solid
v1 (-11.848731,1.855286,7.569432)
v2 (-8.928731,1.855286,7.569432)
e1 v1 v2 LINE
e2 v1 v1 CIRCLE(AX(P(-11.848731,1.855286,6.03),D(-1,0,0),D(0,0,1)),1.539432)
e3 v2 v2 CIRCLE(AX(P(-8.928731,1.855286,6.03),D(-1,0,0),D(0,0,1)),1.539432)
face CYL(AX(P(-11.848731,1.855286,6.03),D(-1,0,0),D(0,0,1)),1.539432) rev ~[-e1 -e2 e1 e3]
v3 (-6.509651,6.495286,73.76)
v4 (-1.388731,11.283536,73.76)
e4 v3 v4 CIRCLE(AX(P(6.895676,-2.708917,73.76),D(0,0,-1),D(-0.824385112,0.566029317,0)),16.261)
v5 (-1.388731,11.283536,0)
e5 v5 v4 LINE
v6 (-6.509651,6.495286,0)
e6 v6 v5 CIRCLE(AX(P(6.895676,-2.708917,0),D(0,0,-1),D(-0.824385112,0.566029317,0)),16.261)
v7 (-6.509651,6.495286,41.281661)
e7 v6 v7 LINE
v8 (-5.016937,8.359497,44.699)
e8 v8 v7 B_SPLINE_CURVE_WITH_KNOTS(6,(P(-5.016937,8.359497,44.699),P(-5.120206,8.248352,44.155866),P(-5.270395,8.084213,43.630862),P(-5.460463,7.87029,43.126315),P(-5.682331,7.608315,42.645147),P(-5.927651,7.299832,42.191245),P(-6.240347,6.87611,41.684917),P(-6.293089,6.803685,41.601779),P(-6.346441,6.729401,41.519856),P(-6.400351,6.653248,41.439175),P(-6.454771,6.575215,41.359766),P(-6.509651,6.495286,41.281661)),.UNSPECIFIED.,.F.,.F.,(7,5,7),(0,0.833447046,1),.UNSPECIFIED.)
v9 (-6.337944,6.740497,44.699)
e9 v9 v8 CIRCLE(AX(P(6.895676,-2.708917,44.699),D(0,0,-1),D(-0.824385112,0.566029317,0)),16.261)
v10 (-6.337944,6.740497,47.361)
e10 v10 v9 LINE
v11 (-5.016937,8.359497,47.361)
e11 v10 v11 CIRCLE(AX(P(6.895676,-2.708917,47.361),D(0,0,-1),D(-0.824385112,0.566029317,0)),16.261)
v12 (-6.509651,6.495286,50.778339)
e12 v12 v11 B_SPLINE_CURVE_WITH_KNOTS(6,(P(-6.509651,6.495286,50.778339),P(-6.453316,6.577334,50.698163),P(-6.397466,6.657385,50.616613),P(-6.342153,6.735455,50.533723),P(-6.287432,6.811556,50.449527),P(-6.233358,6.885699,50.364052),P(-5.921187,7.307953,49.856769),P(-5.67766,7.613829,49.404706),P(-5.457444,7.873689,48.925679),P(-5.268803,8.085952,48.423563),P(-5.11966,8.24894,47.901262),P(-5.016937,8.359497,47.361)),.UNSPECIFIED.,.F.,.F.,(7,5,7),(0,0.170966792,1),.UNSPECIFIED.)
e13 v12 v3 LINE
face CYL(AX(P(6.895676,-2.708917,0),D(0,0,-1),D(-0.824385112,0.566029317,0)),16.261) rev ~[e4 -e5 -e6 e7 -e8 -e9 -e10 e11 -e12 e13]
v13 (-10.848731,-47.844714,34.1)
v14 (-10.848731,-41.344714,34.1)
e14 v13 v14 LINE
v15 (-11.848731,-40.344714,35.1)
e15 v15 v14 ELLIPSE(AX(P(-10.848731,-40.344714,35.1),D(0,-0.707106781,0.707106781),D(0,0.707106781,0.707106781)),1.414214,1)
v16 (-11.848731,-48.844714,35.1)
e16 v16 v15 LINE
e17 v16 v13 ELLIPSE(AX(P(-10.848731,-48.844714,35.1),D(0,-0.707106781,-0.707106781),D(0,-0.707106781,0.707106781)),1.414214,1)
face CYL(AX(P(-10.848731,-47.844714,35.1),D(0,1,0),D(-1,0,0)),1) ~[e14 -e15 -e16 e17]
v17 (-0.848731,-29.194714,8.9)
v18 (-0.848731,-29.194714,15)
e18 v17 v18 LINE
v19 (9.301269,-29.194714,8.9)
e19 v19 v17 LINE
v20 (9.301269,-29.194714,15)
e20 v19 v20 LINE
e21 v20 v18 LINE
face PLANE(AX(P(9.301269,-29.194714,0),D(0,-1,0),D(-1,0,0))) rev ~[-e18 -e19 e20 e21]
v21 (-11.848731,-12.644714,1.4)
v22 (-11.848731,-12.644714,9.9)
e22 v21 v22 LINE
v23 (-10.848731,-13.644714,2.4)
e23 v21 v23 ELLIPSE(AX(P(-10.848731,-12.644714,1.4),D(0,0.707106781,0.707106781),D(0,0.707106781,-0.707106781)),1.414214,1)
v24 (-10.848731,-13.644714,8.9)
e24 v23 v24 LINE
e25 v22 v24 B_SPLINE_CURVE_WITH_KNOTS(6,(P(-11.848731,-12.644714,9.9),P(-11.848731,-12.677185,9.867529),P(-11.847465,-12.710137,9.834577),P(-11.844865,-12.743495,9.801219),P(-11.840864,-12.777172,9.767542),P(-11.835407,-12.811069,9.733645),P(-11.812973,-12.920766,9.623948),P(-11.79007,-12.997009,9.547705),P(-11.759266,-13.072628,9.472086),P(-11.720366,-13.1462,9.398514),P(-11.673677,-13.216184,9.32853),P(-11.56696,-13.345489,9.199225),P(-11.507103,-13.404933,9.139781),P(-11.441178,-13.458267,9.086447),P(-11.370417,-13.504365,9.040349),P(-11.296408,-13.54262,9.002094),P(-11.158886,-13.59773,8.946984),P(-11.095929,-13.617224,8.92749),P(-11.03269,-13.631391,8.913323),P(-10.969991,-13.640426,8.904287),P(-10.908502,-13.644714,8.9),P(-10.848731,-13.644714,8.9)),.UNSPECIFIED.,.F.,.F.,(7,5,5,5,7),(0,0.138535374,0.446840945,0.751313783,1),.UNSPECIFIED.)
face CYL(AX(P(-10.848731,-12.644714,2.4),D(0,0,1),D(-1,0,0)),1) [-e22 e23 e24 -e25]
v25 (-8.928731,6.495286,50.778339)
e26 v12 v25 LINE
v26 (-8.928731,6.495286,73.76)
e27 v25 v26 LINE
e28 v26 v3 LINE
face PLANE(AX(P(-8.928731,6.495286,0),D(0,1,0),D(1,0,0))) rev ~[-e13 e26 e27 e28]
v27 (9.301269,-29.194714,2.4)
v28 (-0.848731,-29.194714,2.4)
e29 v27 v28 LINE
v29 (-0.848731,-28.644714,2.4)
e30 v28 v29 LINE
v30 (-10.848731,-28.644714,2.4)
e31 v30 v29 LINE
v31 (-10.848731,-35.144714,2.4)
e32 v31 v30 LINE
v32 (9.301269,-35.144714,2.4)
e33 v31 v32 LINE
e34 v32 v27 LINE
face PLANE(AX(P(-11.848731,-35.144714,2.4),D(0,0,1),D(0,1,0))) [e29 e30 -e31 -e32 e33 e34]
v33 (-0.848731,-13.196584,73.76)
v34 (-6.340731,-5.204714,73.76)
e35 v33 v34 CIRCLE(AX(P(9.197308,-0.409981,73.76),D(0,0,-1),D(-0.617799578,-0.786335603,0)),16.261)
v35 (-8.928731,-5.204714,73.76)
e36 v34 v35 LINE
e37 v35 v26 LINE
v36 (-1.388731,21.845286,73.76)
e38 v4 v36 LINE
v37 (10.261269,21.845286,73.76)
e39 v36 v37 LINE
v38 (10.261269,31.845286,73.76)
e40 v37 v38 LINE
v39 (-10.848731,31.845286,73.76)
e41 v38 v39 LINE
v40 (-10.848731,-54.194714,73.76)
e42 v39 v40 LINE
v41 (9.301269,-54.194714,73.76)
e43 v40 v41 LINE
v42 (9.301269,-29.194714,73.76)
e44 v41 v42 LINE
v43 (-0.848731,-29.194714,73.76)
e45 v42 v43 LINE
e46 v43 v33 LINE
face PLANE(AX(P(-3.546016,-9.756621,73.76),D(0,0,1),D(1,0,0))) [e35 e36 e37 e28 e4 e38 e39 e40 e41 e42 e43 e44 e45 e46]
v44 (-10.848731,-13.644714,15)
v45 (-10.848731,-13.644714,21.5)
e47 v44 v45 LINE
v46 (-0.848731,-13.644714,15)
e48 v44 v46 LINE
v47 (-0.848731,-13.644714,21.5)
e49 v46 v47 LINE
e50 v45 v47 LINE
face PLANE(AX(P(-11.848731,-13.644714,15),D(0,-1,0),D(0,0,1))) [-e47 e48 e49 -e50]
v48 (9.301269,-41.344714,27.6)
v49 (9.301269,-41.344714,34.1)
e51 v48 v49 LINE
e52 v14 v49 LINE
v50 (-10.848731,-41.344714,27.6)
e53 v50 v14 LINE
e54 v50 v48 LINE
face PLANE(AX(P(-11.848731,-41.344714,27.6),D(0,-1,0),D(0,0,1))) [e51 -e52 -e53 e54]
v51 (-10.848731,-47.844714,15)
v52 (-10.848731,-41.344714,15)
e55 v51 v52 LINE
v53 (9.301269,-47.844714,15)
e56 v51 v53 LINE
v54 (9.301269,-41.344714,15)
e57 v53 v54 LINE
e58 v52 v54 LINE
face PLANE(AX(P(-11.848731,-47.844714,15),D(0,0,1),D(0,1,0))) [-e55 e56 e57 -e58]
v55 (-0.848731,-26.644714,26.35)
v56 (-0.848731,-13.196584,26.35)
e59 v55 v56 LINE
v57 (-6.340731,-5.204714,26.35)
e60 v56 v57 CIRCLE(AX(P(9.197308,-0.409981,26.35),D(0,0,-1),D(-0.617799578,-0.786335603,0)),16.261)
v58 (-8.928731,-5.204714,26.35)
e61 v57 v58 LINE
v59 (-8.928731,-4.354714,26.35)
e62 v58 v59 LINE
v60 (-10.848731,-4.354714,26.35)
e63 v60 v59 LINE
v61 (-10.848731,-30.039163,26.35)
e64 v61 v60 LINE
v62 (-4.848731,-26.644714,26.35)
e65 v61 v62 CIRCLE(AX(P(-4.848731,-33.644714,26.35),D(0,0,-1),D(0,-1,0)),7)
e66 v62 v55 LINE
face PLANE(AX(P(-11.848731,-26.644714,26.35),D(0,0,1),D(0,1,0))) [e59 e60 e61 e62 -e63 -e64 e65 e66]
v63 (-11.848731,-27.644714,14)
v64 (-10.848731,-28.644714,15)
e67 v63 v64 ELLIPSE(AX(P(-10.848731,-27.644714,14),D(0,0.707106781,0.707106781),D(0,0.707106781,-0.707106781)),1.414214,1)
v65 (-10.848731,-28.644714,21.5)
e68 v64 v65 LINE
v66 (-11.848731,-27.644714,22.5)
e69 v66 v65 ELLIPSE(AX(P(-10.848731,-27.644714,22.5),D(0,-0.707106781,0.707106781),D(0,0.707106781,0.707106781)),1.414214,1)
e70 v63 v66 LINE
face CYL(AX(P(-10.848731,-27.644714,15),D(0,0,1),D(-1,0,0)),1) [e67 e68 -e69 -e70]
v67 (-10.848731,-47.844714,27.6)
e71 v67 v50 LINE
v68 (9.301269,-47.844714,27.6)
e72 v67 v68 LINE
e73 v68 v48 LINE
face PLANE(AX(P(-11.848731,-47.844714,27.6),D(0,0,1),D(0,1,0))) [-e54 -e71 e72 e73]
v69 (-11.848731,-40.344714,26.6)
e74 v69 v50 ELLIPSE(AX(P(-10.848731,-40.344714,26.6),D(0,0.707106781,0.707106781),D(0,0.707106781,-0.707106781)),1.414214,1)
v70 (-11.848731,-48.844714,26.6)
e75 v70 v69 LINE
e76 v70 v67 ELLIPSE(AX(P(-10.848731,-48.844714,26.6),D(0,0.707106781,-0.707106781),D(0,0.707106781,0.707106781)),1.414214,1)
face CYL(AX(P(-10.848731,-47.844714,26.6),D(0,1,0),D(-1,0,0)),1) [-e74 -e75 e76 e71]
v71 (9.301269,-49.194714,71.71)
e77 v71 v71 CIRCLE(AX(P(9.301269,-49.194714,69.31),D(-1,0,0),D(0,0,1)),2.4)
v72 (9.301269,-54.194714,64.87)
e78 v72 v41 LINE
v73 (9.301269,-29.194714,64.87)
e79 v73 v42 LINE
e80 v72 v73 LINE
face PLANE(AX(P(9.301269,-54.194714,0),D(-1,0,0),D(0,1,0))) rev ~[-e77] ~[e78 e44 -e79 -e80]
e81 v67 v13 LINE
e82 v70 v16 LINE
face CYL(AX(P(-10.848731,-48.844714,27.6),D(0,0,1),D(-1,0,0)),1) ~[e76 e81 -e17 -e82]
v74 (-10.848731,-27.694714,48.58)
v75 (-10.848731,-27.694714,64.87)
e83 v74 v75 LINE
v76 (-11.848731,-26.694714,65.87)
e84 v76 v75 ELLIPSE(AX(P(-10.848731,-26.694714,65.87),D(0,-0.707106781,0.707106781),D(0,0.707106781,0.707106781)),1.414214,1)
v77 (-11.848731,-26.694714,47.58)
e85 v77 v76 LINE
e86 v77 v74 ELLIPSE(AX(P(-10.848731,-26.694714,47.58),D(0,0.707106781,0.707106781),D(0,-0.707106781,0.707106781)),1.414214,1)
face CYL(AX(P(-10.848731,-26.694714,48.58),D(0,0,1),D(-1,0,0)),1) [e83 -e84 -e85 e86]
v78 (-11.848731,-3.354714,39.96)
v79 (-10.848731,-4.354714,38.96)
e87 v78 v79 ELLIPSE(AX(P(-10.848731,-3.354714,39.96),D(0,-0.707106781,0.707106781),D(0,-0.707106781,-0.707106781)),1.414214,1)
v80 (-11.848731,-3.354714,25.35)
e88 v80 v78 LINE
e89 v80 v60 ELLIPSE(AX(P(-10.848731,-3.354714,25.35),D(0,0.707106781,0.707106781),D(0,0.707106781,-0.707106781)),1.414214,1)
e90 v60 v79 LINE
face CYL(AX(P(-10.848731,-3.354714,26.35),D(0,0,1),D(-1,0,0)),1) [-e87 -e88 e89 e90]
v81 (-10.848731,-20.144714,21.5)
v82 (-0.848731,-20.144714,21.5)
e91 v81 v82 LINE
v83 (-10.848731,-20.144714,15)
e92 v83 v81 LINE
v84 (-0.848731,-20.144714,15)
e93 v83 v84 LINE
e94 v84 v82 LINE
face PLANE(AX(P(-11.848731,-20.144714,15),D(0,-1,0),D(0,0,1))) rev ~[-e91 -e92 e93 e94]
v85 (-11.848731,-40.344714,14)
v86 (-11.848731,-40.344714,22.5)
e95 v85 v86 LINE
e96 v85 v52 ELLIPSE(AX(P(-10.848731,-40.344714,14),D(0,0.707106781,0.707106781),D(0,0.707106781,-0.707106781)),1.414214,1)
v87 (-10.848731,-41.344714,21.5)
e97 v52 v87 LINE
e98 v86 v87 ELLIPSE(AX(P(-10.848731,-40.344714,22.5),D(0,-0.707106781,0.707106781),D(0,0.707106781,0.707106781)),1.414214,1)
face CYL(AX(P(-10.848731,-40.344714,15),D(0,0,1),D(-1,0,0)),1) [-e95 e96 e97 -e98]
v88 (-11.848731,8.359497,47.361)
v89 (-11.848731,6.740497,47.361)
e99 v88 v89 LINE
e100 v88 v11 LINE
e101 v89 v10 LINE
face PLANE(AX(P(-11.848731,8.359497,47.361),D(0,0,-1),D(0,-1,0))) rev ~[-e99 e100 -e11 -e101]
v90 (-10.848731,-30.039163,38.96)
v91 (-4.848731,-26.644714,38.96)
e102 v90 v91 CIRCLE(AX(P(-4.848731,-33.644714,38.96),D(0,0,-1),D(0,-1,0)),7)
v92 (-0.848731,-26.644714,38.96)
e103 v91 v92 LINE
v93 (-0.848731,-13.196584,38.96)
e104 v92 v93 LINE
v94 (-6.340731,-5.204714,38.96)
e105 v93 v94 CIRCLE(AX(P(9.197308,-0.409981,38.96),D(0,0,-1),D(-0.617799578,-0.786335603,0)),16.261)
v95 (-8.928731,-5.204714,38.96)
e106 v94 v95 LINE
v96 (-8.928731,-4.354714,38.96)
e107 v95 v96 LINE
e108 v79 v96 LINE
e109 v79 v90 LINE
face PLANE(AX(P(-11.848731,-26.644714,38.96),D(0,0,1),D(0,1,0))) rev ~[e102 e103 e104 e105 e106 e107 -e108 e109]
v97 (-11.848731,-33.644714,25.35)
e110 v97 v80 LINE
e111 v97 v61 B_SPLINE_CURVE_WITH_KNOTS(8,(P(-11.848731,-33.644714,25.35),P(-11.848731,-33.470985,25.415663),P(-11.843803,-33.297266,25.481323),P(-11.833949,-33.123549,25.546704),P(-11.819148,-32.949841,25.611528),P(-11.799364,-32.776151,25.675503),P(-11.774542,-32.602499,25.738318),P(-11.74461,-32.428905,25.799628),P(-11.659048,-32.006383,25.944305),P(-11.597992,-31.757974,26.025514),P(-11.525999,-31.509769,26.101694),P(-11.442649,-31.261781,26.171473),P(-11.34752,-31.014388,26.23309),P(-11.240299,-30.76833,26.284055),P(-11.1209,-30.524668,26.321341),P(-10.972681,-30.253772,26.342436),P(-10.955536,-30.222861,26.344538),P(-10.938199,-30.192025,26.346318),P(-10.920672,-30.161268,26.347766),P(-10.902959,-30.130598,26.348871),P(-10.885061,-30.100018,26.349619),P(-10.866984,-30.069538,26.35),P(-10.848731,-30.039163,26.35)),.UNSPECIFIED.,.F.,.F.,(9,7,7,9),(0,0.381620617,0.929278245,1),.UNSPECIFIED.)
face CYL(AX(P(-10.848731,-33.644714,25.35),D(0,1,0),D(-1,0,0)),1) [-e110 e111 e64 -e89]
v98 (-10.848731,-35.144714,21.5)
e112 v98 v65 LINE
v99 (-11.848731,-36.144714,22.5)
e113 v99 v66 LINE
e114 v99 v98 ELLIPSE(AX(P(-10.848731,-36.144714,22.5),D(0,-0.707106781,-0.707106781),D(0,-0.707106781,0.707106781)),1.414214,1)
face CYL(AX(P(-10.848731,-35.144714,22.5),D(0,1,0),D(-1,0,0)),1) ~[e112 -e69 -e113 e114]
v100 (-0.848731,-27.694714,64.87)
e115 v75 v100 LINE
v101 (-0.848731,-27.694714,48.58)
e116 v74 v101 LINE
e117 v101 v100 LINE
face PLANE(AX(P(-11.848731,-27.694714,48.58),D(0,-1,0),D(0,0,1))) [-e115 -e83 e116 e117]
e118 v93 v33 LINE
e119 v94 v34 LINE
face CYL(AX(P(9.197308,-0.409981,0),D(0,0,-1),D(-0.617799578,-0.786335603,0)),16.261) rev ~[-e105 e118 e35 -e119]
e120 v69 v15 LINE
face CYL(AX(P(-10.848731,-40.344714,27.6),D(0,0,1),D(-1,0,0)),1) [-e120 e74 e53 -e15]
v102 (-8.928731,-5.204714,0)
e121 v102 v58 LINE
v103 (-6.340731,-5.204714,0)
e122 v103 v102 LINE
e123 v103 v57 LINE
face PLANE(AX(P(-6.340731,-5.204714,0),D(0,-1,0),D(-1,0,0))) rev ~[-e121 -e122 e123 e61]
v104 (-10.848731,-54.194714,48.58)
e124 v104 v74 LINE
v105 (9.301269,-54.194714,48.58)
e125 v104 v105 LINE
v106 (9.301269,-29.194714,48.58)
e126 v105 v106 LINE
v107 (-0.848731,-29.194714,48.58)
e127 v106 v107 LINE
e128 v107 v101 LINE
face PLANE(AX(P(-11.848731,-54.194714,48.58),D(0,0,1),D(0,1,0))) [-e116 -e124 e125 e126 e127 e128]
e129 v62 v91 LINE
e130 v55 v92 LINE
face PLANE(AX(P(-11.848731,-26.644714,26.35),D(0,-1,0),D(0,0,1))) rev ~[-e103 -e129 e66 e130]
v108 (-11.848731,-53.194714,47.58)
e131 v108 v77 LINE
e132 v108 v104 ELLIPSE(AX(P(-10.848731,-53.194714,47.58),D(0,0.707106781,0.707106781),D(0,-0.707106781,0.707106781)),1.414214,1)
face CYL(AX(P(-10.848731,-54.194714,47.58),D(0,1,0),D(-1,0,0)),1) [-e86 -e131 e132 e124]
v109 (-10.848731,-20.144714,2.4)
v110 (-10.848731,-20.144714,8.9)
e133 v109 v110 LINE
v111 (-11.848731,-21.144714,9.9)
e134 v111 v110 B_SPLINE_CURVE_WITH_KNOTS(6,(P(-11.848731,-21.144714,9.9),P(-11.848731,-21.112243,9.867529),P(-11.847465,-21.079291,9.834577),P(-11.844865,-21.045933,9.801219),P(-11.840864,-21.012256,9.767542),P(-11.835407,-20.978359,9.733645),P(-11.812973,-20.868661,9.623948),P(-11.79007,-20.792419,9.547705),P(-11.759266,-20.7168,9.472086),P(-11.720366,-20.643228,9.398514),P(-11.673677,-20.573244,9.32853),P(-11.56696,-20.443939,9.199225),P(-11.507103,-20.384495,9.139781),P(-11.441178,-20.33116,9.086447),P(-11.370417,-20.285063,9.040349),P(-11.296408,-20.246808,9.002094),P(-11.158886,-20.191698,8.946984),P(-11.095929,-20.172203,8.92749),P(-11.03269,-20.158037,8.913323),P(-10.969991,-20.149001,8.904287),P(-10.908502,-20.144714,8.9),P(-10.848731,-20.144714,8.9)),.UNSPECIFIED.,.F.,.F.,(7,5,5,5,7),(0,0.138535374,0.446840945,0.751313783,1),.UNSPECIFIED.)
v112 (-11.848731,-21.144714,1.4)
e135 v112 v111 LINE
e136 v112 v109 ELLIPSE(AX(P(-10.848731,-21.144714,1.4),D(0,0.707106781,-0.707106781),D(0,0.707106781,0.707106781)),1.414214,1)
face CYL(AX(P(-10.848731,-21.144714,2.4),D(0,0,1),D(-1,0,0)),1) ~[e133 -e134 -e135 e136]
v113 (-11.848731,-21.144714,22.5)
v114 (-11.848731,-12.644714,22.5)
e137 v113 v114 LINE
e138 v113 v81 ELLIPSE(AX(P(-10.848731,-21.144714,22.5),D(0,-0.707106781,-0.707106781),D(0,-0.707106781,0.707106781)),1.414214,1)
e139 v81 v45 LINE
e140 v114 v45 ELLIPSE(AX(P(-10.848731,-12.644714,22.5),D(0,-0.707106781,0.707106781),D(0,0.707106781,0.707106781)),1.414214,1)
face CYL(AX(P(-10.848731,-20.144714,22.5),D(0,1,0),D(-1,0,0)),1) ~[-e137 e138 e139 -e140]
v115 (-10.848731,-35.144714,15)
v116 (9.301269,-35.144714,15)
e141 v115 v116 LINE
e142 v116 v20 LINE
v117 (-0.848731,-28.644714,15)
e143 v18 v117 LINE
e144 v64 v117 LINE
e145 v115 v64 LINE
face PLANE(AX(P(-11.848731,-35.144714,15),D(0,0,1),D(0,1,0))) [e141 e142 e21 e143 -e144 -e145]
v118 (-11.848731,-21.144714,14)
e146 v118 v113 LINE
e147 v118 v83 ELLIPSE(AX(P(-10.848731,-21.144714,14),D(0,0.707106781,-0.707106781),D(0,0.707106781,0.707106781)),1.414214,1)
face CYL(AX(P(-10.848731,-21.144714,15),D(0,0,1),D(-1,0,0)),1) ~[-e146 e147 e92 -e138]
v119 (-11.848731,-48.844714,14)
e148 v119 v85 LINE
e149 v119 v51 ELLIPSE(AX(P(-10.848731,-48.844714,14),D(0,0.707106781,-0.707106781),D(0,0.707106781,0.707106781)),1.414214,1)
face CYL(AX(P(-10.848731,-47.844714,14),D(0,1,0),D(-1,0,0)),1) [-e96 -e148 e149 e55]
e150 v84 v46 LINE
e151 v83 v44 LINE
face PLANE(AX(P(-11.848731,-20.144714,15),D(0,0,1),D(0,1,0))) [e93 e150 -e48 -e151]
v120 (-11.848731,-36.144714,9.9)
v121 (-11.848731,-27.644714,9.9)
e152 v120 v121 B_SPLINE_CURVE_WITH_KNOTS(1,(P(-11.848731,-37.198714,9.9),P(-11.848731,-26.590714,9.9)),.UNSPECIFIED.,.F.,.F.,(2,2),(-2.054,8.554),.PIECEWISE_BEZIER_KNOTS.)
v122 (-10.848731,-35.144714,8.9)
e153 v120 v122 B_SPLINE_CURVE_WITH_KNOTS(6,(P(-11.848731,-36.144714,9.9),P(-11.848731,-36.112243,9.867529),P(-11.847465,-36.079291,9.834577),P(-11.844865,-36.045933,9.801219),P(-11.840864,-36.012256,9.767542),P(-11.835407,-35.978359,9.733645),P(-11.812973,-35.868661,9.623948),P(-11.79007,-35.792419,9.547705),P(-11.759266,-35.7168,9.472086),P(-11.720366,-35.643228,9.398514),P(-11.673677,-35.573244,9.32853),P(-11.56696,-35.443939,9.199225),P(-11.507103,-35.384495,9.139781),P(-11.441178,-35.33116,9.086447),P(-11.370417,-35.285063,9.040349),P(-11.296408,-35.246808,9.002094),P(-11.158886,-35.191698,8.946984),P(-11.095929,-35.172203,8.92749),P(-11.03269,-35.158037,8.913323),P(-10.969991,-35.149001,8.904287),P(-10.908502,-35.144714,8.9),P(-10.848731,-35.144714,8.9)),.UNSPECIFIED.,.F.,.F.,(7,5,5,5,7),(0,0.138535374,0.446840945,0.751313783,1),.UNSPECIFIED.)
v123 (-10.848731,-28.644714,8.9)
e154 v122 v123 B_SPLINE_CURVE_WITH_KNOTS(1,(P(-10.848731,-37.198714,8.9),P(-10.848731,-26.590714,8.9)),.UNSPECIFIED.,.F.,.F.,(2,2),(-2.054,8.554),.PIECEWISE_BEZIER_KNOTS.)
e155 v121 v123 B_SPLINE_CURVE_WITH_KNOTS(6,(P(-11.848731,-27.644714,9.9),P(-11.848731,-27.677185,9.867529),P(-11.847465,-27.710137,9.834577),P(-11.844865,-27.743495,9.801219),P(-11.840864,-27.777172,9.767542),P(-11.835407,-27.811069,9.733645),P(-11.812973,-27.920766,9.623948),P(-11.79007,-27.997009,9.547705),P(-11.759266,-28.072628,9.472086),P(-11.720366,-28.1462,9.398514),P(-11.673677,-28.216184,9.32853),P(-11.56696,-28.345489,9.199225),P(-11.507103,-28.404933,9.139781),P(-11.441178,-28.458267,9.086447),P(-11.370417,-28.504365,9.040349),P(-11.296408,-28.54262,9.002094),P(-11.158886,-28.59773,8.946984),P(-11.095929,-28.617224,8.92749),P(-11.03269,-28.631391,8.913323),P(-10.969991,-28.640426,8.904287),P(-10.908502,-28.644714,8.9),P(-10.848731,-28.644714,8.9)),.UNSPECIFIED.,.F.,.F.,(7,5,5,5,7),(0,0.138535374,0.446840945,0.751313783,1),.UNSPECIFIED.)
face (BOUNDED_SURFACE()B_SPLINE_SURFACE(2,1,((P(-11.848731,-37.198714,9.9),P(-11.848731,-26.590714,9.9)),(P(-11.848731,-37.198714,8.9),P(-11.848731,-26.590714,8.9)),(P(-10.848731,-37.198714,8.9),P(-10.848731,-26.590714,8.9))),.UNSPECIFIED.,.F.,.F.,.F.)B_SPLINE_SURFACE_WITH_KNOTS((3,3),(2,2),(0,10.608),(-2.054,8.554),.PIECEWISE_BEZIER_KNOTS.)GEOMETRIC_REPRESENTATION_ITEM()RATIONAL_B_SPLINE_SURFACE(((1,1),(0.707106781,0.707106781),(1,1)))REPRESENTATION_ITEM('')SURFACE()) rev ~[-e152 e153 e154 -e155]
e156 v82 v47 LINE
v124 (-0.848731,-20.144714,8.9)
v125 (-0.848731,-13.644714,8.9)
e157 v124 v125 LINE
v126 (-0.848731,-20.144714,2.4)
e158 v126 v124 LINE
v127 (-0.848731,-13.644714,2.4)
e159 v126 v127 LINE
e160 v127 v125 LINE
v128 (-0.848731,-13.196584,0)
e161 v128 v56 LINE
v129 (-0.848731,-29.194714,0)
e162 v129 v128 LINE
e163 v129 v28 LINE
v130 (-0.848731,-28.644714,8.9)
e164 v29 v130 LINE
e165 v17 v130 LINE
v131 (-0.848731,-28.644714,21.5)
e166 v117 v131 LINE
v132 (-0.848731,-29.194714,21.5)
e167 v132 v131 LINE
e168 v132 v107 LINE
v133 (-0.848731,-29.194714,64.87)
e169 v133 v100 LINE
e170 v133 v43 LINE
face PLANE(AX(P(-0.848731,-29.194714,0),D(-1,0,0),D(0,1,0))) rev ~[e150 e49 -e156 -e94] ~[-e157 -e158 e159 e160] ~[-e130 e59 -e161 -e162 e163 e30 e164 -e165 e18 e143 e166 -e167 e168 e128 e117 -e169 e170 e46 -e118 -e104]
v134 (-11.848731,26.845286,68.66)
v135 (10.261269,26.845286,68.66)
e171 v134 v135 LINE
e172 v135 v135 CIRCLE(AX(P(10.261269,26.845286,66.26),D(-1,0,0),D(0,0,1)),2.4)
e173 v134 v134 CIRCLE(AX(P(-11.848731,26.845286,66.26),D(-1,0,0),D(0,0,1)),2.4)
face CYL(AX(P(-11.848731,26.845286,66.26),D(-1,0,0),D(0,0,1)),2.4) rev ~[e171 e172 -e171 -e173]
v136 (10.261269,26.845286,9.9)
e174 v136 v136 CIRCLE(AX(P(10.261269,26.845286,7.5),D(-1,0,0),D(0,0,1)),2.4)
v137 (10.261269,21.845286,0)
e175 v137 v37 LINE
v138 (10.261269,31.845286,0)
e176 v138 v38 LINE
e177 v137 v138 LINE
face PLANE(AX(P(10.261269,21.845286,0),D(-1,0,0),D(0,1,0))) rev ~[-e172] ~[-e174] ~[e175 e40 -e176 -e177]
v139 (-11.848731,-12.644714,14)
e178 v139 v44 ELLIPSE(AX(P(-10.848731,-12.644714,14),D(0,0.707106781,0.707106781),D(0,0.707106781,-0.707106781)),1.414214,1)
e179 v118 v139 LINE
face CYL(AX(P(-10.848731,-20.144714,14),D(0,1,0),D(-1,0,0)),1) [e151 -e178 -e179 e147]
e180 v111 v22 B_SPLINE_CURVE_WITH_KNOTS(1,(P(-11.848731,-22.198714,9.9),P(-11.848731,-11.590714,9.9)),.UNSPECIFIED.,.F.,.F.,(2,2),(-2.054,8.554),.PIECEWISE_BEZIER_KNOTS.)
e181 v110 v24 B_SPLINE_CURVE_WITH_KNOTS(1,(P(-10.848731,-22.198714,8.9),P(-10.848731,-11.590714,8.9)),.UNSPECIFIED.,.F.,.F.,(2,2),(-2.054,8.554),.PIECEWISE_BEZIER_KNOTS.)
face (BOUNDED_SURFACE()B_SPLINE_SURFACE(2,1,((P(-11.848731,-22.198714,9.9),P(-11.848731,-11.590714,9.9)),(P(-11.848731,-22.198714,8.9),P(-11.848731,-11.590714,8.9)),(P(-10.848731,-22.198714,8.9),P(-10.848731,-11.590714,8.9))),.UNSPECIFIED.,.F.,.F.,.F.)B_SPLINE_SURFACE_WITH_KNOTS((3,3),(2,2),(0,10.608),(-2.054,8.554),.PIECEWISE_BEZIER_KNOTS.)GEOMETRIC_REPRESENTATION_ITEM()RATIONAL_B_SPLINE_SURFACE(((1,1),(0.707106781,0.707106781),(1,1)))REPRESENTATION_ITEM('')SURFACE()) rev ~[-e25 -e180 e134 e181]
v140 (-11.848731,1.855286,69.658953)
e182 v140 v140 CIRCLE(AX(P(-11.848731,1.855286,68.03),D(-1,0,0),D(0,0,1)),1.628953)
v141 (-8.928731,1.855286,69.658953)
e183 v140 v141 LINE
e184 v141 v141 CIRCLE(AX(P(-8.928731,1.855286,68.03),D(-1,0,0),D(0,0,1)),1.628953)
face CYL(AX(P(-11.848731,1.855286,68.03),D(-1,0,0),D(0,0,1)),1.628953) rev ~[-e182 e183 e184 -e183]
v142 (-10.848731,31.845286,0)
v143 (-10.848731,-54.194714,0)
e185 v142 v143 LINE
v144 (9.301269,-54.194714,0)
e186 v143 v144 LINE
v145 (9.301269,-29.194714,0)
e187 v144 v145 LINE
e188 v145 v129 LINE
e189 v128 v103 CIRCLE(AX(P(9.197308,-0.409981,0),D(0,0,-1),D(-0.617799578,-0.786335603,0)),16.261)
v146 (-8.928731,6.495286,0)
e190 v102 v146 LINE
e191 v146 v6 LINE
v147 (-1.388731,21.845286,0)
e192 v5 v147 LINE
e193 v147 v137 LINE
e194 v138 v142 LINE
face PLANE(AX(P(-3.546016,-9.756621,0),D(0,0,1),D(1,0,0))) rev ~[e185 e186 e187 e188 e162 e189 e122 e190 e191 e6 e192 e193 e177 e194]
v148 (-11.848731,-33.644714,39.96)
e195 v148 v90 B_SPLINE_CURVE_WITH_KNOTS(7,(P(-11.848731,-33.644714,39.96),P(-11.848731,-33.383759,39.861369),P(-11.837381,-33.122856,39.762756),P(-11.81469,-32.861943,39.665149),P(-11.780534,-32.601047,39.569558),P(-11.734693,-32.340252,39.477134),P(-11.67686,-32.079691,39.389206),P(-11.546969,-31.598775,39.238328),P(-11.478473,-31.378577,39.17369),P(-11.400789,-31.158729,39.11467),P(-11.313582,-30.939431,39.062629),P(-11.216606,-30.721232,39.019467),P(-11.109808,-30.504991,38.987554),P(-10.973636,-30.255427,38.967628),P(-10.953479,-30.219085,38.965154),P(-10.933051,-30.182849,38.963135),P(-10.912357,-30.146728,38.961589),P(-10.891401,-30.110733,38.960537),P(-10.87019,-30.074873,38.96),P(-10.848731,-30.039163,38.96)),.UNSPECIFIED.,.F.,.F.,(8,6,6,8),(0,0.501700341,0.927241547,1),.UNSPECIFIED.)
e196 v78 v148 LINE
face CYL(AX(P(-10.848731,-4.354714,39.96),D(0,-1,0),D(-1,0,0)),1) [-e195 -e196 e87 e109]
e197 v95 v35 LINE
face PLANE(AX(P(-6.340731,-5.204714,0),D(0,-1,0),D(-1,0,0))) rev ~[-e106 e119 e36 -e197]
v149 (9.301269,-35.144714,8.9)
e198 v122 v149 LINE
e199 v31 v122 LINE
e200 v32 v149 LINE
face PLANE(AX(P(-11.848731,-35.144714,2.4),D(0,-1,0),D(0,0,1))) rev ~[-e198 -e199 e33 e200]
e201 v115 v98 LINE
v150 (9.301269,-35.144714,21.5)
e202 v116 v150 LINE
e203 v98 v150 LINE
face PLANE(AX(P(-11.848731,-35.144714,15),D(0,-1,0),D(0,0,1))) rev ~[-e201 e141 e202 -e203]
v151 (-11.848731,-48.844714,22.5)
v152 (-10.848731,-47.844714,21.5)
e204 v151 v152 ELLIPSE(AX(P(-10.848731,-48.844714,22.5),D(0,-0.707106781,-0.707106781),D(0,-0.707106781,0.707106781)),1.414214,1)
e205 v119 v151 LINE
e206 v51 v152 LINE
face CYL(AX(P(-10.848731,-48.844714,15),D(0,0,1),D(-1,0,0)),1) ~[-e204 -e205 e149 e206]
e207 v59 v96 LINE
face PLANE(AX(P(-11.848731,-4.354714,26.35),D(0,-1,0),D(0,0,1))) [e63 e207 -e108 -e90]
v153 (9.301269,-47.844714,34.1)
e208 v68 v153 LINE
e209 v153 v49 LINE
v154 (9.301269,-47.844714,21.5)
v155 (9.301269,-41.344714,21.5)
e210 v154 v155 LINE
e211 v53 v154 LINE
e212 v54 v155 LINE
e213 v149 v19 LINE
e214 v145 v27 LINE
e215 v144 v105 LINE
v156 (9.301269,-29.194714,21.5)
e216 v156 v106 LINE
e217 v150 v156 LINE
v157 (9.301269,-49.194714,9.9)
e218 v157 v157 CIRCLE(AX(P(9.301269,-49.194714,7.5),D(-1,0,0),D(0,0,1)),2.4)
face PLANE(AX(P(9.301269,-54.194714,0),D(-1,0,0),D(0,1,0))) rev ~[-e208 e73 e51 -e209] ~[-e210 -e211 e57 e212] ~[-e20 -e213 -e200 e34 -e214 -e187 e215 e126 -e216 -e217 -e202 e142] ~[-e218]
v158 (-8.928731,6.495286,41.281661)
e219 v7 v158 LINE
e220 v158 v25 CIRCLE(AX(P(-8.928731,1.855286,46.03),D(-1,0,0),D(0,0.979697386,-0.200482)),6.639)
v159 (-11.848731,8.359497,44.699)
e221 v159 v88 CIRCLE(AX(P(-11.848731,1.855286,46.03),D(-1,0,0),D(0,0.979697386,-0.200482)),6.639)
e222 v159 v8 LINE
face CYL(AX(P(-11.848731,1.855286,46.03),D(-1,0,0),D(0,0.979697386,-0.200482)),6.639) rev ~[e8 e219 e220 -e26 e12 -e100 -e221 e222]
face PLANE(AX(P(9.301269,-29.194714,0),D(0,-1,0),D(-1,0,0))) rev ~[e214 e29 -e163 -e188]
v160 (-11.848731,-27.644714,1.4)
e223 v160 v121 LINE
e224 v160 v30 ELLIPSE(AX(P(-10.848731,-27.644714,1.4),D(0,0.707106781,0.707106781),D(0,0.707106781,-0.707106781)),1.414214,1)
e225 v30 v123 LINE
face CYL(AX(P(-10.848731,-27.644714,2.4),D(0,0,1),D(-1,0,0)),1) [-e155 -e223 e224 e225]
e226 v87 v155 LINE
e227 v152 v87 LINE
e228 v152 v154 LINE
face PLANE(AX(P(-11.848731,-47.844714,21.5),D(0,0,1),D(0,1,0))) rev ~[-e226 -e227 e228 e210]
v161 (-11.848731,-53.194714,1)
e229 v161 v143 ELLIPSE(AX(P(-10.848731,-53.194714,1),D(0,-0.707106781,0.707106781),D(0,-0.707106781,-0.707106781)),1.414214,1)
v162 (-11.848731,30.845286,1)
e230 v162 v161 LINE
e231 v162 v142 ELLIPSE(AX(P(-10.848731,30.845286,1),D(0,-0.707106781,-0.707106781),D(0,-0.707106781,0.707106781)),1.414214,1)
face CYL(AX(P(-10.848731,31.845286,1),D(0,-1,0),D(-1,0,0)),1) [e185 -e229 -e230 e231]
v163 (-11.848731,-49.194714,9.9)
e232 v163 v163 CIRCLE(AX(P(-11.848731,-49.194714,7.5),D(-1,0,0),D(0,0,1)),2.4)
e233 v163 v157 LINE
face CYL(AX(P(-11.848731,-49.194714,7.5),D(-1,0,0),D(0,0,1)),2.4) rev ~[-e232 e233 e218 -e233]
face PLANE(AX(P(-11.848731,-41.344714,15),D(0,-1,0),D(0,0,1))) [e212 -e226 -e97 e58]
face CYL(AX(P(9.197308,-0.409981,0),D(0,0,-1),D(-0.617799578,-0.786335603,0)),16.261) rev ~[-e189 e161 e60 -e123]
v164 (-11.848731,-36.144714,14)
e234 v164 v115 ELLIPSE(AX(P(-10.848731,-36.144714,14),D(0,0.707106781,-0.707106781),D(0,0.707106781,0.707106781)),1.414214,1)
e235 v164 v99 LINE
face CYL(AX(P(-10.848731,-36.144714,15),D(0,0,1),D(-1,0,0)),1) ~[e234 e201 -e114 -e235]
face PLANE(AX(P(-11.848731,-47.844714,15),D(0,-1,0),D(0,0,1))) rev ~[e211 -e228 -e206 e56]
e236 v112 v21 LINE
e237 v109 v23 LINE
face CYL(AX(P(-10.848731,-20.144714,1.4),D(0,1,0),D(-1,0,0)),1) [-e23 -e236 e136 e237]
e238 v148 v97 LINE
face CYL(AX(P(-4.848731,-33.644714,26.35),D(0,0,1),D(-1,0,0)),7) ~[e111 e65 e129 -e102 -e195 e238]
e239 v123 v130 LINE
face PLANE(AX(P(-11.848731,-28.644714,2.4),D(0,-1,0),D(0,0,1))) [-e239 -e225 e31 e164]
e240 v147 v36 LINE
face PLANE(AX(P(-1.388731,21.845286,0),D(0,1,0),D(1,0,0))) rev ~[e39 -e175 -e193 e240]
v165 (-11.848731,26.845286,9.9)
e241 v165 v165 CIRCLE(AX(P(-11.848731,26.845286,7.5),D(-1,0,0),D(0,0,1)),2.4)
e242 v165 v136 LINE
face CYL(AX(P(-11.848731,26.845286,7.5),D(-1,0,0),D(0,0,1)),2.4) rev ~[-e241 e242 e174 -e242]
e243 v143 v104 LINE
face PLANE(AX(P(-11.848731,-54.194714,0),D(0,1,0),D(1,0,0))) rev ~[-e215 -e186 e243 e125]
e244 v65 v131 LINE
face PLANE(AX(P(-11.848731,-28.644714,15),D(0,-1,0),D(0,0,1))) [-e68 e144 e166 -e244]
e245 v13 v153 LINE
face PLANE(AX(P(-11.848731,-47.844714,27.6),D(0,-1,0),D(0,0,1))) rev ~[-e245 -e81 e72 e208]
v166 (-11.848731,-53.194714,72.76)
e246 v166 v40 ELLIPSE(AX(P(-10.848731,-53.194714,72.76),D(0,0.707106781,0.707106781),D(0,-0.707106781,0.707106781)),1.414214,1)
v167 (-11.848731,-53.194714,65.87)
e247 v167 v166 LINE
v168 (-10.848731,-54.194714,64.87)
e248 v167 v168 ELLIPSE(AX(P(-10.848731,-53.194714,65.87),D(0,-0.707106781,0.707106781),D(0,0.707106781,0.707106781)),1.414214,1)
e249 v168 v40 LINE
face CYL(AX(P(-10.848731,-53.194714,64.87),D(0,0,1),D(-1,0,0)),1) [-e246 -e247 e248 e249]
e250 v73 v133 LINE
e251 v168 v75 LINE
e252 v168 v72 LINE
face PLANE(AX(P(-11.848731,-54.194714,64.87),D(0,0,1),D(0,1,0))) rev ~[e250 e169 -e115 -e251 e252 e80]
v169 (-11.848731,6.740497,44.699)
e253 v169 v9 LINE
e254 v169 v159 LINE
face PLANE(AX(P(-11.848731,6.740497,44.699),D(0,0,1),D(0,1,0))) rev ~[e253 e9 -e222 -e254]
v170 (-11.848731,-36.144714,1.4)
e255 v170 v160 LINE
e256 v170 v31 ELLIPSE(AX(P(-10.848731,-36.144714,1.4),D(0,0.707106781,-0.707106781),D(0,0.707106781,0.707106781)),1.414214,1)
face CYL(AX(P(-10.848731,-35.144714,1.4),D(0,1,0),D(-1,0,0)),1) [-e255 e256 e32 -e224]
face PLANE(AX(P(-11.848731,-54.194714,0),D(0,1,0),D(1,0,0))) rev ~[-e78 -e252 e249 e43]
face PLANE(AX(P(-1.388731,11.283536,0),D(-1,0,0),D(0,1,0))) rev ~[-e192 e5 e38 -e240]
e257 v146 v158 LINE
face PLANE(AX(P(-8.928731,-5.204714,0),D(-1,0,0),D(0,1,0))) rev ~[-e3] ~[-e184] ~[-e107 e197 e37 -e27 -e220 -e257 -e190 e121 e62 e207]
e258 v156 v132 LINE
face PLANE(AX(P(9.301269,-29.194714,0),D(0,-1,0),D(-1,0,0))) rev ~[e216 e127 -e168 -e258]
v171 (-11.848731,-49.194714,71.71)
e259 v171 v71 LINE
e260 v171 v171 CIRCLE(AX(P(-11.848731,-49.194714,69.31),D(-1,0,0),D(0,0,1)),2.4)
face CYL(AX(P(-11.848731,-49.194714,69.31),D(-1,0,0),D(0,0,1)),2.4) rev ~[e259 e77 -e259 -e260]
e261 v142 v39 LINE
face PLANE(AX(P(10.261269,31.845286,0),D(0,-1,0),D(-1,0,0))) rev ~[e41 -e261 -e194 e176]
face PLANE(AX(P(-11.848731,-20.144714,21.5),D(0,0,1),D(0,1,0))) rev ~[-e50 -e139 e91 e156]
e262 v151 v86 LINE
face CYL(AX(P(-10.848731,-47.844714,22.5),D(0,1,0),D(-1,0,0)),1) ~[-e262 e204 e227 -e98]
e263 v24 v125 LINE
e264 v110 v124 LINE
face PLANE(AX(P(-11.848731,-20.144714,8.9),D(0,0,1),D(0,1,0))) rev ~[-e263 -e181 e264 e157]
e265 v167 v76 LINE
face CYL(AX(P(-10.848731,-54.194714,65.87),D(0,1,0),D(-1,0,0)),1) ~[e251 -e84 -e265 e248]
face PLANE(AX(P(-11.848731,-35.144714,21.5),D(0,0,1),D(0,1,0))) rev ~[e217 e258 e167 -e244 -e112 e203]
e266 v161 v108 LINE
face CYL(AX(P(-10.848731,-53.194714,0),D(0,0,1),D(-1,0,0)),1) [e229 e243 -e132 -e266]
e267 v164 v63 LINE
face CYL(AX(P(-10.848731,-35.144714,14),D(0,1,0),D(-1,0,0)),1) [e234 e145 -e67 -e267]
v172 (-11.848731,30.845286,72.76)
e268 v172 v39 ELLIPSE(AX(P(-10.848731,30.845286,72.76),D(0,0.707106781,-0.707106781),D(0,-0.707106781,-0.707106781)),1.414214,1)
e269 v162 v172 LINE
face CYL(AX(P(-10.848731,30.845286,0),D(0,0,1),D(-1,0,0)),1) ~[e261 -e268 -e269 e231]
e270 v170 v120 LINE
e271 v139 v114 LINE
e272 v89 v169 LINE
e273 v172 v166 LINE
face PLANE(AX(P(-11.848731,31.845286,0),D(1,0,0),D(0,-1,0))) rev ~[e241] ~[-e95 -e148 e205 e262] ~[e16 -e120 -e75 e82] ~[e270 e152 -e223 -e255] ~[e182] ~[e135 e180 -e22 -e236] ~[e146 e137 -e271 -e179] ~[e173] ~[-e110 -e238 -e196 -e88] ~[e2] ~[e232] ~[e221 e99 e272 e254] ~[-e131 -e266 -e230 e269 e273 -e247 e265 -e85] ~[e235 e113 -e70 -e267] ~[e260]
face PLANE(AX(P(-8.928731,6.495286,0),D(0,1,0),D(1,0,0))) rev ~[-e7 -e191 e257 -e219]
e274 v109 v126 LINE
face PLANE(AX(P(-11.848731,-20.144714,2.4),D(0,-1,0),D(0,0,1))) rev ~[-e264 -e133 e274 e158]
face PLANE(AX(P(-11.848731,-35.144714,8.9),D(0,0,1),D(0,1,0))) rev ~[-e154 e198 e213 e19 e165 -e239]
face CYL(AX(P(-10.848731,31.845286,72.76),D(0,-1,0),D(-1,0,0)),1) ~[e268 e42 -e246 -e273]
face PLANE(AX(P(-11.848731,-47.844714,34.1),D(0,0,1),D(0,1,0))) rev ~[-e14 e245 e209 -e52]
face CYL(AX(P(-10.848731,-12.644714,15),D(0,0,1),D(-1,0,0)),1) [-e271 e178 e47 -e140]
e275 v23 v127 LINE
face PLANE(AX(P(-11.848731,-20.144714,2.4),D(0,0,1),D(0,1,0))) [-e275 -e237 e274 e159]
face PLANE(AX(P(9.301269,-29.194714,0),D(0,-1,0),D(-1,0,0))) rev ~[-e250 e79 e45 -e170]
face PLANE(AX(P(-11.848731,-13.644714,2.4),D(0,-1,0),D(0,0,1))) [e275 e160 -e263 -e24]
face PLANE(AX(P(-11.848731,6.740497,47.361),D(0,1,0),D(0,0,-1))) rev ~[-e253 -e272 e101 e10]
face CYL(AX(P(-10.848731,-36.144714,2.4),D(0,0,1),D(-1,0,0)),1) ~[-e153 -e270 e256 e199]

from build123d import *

# Parameters (mm, degrees)
PROFILEEXTRUDE_DEPTH    = 73.76
HOSEWINDOW_W            = 16.29
HOSEWINDOW_H            = 26.5
HOSEWINDOWCUT_DEPTH     = 23.11
CAGESCREWS_R            = 2.4
CAGESCREWSCUT_DEPTH     = 23.11
AXLEHOLECUT_DEPTH       = 23.11
SETSCREWHOLES_R         = 1.539432213
SETSCREWHOLES_R_2       = 1.628953018
SETSCREWHOLESCUT_DEPTH  = 23.11
VELOCITYWINDOW_W        = 12.61
VELOCITYWINDOW_H        = 22.29
VELOCITYWINDOWCUT_DEPTH = 23.11
FILLET3_R               = 7
TRIGGERRACKSLOTCUT_W    = 6.5
TRIGGERRACKSLOTCUT_H    = 6.5
RACKSLOTCUT_DEPTH       = 23.11
FILLET4_R               = 1


with BuildPart() as part:
    # Profile → ProfileExtrude (new body)
    with BuildSketch(Plane.XY):
        with BuildLine():
            Line((9.301269376, -54.194713793), (9.301269376, -29.194713793))
            Line((9.301269376, -29.194713793), (-0.848730624, -29.194713793))
            Line((-0.848730624, -29.194713793), (-0.848730624, -13.196583793))
            ThreePointArc((-0.848730624, -13.196583793), (-4.204324299, -9.619560571), (-6.340730624, -5.204713793))
            Line((-6.340730624, -5.204713793), (-8.928730624, -5.204713793))
            Line((-8.928730624, -5.204713793), (-8.928730624, 6.495286207))
            Line((-8.928730624, 6.495286207), (-6.509650624, 6.495286207))
            ThreePointArc((-6.509650624, 6.495286207), (-4.210311879, 9.168674207), (-1.388730624, 11.283536207))
            Line((-1.388730624, 11.283536207), (-1.388730624, 21.845286207))
            Line((-1.388730624, 21.845286207), (10.261269376, 21.845286207))
            Line((10.261269376, 21.845286207), (10.261269376, 31.845286207))
            Line((10.261269376, 31.845286207), (-11.848730624, 31.845286207))
            Line((-11.848730624, 31.845286207), (-11.848730624, -54.194713793))
            Line((-11.848730624, -54.194713793), (9.301269376, -54.194713793))
        make_face()
    extrude(amount=PROFILEEXTRUDE_DEPTH)

    # HoseWindow → HoseWindowCut (cut, through all)
    with BuildSketch(Plane.ZY.offset(11.848730624)):
        with Locations((56.725, -40.944713793)):
            Rectangle(HOSEWINDOW_W, HOSEWINDOW_H)
    extrude(amount=-HOSEWINDOWCUT_DEPTH, mode=Mode.SUBTRACT)

    # CageScrews → CageScrewsCut (cut, through all)
    with BuildSketch(Plane.ZY.offset(11.848730624)):
        with Locations((7.5, 26.845286207)):
            Circle(CAGESCREWS_R)
        with Locations((66.26, 26.845286207)):
            Circle(CAGESCREWS_R)
        with Locations((7.5, -49.194713793)):
            Circle(CAGESCREWS_R)
        with Locations((69.31, -49.194713793)):
            Circle(CAGESCREWS_R)
    extrude(amount=-CAGESCREWSCUT_DEPTH, mode=Mode.SUBTRACT)

    # AxleHole → AxleHoleCut (cut, through all)
    with BuildSketch(Plane.ZY.offset(11.848730624)):
        with BuildLine():
            Line((47.361, 8.359497151), (47.361, 6.740497151))
            Line((47.361, 6.740497151), (44.699, 6.740497151))
            Line((44.699, 6.740497151), (44.699, 8.359497151))
            ThreePointArc((44.699, 8.359497151), (46.03, -4.783713793), (47.361, 8.359497151))
        make_face()
    extrude(amount=-AXLEHOLECUT_DEPTH, mode=Mode.SUBTRACT)

    # SetScrewHoles → SetScrewHolesCut (cut, through all)
    with BuildSketch(Plane.ZY.offset(11.848730624)):
        with Locations((6.03, 1.855286207)):
            Circle(SETSCREWHOLES_R)
        with Locations((68.03, 1.855286207)):
            Circle(SETSCREWHOLES_R_2)
    extrude(amount=-SETSCREWHOLESCUT_DEPTH, mode=Mode.SUBTRACT)

    # VelocityWindow → VelocityWindowCut (cut, through all)
    with BuildSketch(Plane.ZY.offset(11.848730624)):
        with Locations((32.655, -15.499713793)):
            Rectangle(VELOCITYWINDOW_W, VELOCITYWINDOW_H)
    extrude(amount=-VELOCITYWINDOWCUT_DEPTH, mode=Mode.SUBTRACT)

    # Fillet3
    fillet3_edges = [part.edges().sort_by_distance(p)[0] for p in [
        (-11.848730624, -26.644713793, 32.655),
    ]]
    fillet(fillet3_edges, radius=FILLET3_R)

    # TriggerRackSlotCut → RackSlotCut (cut, through all)
    with BuildSketch(Plane.ZY.offset(11.848730624)):
        with Locations((18.25, -44.594713793)):
            Rectangle(TRIGGERRACKSLOTCUT_W, TRIGGERRACKSLOTCUT_H)
        with Locations((30.85, -44.594713793)):
            Rectangle(TRIGGERRACKSLOTCUT_W, TRIGGERRACKSLOTCUT_H)
        with Locations((5.65, -31.894713793)):
            Rectangle(TRIGGERRACKSLOTCUT_W, TRIGGERRACKSLOTCUT_H)
        with Locations((18.25, -31.894713793)):
            Rectangle(TRIGGERRACKSLOTCUT_W, TRIGGERRACKSLOTCUT_H)
        with Locations((5.65, -16.894713793)):
            Rectangle(TRIGGERRACKSLOTCUT_W, TRIGGERRACKSLOTCUT_H)
        with Locations((18.25, -16.894713793)):
            Rectangle(TRIGGERRACKSLOTCUT_W, TRIGGERRACKSLOTCUT_H)
    extrude(amount=-RACKSLOTCUT_DEPTH, mode=Mode.SUBTRACT)

    # Fillet4
    fillet4_edges = [part.edges().sort_by_distance(p)[0] for p in [
        (-11.848730624, -11.174713793, 73.76),
        (-11.848730624, -18.999713793, 26.35),
        (-11.848730624, -18.999713793, 38.96),
        (-11.848730624, -4.354713793, 32.655),
        (-11.848730624, -44.594713793, 15),
        (-11.848730624, -47.844713793, 18.25),
        (-11.848730624, -44.594713793, 21.5),
        (-11.848730624, -41.344713793, 18.25),
        (-11.848730624, -11.174713793, 0),
        (-11.848730624, -44.594713793, 27.6),
        (-11.848730624, -47.844713793, 30.85),
        (-11.848730624, -44.594713793, 34.1),
        (-11.848730624, -41.344713793, 30.85),
        (-11.848730624, -31.894713793, 2.4),
        (-11.848730624, -35.144713793, 5.65),
        (-11.848730624, -31.894713793, 8.9),
        (-11.848730624, -28.644713793, 5.65),
        (-11.848730624, -31.894713793, 15),
        (-11.848730624, -35.144713793, 18.25),
        (-11.848730624, -31.894713793, 21.5),
        (-11.848730624, -28.644713793, 18.25),
        (-11.848730624, -54.194713793, 69.315),
        (-11.848730624, 31.845286207, 36.88),
        (-11.848730624, -16.894713793, 2.4),
        (-11.848730624, -20.144713793, 5.65),
        (-11.848730624, -16.894713793, 8.9),
        (-11.848730624, -13.644713793, 5.65),
        (-11.848730624, -16.894713793, 15),
        (-11.848730624, -20.144713793, 18.25),
        (-11.848730624, -16.894713793, 21.5),
        (-11.848730624, -13.644713793, 18.25),
        (-11.848730624, -54.194713793, 24.29),
        (-11.848730624, -40.944713793, 64.87),
        (-11.848730624, -27.694713793, 56.725),
        (-11.848730624, -40.944713793, 48.58),
    ]]
    fillet(fillet4_edges, radius=FILLET4_R)


solid = part.part
